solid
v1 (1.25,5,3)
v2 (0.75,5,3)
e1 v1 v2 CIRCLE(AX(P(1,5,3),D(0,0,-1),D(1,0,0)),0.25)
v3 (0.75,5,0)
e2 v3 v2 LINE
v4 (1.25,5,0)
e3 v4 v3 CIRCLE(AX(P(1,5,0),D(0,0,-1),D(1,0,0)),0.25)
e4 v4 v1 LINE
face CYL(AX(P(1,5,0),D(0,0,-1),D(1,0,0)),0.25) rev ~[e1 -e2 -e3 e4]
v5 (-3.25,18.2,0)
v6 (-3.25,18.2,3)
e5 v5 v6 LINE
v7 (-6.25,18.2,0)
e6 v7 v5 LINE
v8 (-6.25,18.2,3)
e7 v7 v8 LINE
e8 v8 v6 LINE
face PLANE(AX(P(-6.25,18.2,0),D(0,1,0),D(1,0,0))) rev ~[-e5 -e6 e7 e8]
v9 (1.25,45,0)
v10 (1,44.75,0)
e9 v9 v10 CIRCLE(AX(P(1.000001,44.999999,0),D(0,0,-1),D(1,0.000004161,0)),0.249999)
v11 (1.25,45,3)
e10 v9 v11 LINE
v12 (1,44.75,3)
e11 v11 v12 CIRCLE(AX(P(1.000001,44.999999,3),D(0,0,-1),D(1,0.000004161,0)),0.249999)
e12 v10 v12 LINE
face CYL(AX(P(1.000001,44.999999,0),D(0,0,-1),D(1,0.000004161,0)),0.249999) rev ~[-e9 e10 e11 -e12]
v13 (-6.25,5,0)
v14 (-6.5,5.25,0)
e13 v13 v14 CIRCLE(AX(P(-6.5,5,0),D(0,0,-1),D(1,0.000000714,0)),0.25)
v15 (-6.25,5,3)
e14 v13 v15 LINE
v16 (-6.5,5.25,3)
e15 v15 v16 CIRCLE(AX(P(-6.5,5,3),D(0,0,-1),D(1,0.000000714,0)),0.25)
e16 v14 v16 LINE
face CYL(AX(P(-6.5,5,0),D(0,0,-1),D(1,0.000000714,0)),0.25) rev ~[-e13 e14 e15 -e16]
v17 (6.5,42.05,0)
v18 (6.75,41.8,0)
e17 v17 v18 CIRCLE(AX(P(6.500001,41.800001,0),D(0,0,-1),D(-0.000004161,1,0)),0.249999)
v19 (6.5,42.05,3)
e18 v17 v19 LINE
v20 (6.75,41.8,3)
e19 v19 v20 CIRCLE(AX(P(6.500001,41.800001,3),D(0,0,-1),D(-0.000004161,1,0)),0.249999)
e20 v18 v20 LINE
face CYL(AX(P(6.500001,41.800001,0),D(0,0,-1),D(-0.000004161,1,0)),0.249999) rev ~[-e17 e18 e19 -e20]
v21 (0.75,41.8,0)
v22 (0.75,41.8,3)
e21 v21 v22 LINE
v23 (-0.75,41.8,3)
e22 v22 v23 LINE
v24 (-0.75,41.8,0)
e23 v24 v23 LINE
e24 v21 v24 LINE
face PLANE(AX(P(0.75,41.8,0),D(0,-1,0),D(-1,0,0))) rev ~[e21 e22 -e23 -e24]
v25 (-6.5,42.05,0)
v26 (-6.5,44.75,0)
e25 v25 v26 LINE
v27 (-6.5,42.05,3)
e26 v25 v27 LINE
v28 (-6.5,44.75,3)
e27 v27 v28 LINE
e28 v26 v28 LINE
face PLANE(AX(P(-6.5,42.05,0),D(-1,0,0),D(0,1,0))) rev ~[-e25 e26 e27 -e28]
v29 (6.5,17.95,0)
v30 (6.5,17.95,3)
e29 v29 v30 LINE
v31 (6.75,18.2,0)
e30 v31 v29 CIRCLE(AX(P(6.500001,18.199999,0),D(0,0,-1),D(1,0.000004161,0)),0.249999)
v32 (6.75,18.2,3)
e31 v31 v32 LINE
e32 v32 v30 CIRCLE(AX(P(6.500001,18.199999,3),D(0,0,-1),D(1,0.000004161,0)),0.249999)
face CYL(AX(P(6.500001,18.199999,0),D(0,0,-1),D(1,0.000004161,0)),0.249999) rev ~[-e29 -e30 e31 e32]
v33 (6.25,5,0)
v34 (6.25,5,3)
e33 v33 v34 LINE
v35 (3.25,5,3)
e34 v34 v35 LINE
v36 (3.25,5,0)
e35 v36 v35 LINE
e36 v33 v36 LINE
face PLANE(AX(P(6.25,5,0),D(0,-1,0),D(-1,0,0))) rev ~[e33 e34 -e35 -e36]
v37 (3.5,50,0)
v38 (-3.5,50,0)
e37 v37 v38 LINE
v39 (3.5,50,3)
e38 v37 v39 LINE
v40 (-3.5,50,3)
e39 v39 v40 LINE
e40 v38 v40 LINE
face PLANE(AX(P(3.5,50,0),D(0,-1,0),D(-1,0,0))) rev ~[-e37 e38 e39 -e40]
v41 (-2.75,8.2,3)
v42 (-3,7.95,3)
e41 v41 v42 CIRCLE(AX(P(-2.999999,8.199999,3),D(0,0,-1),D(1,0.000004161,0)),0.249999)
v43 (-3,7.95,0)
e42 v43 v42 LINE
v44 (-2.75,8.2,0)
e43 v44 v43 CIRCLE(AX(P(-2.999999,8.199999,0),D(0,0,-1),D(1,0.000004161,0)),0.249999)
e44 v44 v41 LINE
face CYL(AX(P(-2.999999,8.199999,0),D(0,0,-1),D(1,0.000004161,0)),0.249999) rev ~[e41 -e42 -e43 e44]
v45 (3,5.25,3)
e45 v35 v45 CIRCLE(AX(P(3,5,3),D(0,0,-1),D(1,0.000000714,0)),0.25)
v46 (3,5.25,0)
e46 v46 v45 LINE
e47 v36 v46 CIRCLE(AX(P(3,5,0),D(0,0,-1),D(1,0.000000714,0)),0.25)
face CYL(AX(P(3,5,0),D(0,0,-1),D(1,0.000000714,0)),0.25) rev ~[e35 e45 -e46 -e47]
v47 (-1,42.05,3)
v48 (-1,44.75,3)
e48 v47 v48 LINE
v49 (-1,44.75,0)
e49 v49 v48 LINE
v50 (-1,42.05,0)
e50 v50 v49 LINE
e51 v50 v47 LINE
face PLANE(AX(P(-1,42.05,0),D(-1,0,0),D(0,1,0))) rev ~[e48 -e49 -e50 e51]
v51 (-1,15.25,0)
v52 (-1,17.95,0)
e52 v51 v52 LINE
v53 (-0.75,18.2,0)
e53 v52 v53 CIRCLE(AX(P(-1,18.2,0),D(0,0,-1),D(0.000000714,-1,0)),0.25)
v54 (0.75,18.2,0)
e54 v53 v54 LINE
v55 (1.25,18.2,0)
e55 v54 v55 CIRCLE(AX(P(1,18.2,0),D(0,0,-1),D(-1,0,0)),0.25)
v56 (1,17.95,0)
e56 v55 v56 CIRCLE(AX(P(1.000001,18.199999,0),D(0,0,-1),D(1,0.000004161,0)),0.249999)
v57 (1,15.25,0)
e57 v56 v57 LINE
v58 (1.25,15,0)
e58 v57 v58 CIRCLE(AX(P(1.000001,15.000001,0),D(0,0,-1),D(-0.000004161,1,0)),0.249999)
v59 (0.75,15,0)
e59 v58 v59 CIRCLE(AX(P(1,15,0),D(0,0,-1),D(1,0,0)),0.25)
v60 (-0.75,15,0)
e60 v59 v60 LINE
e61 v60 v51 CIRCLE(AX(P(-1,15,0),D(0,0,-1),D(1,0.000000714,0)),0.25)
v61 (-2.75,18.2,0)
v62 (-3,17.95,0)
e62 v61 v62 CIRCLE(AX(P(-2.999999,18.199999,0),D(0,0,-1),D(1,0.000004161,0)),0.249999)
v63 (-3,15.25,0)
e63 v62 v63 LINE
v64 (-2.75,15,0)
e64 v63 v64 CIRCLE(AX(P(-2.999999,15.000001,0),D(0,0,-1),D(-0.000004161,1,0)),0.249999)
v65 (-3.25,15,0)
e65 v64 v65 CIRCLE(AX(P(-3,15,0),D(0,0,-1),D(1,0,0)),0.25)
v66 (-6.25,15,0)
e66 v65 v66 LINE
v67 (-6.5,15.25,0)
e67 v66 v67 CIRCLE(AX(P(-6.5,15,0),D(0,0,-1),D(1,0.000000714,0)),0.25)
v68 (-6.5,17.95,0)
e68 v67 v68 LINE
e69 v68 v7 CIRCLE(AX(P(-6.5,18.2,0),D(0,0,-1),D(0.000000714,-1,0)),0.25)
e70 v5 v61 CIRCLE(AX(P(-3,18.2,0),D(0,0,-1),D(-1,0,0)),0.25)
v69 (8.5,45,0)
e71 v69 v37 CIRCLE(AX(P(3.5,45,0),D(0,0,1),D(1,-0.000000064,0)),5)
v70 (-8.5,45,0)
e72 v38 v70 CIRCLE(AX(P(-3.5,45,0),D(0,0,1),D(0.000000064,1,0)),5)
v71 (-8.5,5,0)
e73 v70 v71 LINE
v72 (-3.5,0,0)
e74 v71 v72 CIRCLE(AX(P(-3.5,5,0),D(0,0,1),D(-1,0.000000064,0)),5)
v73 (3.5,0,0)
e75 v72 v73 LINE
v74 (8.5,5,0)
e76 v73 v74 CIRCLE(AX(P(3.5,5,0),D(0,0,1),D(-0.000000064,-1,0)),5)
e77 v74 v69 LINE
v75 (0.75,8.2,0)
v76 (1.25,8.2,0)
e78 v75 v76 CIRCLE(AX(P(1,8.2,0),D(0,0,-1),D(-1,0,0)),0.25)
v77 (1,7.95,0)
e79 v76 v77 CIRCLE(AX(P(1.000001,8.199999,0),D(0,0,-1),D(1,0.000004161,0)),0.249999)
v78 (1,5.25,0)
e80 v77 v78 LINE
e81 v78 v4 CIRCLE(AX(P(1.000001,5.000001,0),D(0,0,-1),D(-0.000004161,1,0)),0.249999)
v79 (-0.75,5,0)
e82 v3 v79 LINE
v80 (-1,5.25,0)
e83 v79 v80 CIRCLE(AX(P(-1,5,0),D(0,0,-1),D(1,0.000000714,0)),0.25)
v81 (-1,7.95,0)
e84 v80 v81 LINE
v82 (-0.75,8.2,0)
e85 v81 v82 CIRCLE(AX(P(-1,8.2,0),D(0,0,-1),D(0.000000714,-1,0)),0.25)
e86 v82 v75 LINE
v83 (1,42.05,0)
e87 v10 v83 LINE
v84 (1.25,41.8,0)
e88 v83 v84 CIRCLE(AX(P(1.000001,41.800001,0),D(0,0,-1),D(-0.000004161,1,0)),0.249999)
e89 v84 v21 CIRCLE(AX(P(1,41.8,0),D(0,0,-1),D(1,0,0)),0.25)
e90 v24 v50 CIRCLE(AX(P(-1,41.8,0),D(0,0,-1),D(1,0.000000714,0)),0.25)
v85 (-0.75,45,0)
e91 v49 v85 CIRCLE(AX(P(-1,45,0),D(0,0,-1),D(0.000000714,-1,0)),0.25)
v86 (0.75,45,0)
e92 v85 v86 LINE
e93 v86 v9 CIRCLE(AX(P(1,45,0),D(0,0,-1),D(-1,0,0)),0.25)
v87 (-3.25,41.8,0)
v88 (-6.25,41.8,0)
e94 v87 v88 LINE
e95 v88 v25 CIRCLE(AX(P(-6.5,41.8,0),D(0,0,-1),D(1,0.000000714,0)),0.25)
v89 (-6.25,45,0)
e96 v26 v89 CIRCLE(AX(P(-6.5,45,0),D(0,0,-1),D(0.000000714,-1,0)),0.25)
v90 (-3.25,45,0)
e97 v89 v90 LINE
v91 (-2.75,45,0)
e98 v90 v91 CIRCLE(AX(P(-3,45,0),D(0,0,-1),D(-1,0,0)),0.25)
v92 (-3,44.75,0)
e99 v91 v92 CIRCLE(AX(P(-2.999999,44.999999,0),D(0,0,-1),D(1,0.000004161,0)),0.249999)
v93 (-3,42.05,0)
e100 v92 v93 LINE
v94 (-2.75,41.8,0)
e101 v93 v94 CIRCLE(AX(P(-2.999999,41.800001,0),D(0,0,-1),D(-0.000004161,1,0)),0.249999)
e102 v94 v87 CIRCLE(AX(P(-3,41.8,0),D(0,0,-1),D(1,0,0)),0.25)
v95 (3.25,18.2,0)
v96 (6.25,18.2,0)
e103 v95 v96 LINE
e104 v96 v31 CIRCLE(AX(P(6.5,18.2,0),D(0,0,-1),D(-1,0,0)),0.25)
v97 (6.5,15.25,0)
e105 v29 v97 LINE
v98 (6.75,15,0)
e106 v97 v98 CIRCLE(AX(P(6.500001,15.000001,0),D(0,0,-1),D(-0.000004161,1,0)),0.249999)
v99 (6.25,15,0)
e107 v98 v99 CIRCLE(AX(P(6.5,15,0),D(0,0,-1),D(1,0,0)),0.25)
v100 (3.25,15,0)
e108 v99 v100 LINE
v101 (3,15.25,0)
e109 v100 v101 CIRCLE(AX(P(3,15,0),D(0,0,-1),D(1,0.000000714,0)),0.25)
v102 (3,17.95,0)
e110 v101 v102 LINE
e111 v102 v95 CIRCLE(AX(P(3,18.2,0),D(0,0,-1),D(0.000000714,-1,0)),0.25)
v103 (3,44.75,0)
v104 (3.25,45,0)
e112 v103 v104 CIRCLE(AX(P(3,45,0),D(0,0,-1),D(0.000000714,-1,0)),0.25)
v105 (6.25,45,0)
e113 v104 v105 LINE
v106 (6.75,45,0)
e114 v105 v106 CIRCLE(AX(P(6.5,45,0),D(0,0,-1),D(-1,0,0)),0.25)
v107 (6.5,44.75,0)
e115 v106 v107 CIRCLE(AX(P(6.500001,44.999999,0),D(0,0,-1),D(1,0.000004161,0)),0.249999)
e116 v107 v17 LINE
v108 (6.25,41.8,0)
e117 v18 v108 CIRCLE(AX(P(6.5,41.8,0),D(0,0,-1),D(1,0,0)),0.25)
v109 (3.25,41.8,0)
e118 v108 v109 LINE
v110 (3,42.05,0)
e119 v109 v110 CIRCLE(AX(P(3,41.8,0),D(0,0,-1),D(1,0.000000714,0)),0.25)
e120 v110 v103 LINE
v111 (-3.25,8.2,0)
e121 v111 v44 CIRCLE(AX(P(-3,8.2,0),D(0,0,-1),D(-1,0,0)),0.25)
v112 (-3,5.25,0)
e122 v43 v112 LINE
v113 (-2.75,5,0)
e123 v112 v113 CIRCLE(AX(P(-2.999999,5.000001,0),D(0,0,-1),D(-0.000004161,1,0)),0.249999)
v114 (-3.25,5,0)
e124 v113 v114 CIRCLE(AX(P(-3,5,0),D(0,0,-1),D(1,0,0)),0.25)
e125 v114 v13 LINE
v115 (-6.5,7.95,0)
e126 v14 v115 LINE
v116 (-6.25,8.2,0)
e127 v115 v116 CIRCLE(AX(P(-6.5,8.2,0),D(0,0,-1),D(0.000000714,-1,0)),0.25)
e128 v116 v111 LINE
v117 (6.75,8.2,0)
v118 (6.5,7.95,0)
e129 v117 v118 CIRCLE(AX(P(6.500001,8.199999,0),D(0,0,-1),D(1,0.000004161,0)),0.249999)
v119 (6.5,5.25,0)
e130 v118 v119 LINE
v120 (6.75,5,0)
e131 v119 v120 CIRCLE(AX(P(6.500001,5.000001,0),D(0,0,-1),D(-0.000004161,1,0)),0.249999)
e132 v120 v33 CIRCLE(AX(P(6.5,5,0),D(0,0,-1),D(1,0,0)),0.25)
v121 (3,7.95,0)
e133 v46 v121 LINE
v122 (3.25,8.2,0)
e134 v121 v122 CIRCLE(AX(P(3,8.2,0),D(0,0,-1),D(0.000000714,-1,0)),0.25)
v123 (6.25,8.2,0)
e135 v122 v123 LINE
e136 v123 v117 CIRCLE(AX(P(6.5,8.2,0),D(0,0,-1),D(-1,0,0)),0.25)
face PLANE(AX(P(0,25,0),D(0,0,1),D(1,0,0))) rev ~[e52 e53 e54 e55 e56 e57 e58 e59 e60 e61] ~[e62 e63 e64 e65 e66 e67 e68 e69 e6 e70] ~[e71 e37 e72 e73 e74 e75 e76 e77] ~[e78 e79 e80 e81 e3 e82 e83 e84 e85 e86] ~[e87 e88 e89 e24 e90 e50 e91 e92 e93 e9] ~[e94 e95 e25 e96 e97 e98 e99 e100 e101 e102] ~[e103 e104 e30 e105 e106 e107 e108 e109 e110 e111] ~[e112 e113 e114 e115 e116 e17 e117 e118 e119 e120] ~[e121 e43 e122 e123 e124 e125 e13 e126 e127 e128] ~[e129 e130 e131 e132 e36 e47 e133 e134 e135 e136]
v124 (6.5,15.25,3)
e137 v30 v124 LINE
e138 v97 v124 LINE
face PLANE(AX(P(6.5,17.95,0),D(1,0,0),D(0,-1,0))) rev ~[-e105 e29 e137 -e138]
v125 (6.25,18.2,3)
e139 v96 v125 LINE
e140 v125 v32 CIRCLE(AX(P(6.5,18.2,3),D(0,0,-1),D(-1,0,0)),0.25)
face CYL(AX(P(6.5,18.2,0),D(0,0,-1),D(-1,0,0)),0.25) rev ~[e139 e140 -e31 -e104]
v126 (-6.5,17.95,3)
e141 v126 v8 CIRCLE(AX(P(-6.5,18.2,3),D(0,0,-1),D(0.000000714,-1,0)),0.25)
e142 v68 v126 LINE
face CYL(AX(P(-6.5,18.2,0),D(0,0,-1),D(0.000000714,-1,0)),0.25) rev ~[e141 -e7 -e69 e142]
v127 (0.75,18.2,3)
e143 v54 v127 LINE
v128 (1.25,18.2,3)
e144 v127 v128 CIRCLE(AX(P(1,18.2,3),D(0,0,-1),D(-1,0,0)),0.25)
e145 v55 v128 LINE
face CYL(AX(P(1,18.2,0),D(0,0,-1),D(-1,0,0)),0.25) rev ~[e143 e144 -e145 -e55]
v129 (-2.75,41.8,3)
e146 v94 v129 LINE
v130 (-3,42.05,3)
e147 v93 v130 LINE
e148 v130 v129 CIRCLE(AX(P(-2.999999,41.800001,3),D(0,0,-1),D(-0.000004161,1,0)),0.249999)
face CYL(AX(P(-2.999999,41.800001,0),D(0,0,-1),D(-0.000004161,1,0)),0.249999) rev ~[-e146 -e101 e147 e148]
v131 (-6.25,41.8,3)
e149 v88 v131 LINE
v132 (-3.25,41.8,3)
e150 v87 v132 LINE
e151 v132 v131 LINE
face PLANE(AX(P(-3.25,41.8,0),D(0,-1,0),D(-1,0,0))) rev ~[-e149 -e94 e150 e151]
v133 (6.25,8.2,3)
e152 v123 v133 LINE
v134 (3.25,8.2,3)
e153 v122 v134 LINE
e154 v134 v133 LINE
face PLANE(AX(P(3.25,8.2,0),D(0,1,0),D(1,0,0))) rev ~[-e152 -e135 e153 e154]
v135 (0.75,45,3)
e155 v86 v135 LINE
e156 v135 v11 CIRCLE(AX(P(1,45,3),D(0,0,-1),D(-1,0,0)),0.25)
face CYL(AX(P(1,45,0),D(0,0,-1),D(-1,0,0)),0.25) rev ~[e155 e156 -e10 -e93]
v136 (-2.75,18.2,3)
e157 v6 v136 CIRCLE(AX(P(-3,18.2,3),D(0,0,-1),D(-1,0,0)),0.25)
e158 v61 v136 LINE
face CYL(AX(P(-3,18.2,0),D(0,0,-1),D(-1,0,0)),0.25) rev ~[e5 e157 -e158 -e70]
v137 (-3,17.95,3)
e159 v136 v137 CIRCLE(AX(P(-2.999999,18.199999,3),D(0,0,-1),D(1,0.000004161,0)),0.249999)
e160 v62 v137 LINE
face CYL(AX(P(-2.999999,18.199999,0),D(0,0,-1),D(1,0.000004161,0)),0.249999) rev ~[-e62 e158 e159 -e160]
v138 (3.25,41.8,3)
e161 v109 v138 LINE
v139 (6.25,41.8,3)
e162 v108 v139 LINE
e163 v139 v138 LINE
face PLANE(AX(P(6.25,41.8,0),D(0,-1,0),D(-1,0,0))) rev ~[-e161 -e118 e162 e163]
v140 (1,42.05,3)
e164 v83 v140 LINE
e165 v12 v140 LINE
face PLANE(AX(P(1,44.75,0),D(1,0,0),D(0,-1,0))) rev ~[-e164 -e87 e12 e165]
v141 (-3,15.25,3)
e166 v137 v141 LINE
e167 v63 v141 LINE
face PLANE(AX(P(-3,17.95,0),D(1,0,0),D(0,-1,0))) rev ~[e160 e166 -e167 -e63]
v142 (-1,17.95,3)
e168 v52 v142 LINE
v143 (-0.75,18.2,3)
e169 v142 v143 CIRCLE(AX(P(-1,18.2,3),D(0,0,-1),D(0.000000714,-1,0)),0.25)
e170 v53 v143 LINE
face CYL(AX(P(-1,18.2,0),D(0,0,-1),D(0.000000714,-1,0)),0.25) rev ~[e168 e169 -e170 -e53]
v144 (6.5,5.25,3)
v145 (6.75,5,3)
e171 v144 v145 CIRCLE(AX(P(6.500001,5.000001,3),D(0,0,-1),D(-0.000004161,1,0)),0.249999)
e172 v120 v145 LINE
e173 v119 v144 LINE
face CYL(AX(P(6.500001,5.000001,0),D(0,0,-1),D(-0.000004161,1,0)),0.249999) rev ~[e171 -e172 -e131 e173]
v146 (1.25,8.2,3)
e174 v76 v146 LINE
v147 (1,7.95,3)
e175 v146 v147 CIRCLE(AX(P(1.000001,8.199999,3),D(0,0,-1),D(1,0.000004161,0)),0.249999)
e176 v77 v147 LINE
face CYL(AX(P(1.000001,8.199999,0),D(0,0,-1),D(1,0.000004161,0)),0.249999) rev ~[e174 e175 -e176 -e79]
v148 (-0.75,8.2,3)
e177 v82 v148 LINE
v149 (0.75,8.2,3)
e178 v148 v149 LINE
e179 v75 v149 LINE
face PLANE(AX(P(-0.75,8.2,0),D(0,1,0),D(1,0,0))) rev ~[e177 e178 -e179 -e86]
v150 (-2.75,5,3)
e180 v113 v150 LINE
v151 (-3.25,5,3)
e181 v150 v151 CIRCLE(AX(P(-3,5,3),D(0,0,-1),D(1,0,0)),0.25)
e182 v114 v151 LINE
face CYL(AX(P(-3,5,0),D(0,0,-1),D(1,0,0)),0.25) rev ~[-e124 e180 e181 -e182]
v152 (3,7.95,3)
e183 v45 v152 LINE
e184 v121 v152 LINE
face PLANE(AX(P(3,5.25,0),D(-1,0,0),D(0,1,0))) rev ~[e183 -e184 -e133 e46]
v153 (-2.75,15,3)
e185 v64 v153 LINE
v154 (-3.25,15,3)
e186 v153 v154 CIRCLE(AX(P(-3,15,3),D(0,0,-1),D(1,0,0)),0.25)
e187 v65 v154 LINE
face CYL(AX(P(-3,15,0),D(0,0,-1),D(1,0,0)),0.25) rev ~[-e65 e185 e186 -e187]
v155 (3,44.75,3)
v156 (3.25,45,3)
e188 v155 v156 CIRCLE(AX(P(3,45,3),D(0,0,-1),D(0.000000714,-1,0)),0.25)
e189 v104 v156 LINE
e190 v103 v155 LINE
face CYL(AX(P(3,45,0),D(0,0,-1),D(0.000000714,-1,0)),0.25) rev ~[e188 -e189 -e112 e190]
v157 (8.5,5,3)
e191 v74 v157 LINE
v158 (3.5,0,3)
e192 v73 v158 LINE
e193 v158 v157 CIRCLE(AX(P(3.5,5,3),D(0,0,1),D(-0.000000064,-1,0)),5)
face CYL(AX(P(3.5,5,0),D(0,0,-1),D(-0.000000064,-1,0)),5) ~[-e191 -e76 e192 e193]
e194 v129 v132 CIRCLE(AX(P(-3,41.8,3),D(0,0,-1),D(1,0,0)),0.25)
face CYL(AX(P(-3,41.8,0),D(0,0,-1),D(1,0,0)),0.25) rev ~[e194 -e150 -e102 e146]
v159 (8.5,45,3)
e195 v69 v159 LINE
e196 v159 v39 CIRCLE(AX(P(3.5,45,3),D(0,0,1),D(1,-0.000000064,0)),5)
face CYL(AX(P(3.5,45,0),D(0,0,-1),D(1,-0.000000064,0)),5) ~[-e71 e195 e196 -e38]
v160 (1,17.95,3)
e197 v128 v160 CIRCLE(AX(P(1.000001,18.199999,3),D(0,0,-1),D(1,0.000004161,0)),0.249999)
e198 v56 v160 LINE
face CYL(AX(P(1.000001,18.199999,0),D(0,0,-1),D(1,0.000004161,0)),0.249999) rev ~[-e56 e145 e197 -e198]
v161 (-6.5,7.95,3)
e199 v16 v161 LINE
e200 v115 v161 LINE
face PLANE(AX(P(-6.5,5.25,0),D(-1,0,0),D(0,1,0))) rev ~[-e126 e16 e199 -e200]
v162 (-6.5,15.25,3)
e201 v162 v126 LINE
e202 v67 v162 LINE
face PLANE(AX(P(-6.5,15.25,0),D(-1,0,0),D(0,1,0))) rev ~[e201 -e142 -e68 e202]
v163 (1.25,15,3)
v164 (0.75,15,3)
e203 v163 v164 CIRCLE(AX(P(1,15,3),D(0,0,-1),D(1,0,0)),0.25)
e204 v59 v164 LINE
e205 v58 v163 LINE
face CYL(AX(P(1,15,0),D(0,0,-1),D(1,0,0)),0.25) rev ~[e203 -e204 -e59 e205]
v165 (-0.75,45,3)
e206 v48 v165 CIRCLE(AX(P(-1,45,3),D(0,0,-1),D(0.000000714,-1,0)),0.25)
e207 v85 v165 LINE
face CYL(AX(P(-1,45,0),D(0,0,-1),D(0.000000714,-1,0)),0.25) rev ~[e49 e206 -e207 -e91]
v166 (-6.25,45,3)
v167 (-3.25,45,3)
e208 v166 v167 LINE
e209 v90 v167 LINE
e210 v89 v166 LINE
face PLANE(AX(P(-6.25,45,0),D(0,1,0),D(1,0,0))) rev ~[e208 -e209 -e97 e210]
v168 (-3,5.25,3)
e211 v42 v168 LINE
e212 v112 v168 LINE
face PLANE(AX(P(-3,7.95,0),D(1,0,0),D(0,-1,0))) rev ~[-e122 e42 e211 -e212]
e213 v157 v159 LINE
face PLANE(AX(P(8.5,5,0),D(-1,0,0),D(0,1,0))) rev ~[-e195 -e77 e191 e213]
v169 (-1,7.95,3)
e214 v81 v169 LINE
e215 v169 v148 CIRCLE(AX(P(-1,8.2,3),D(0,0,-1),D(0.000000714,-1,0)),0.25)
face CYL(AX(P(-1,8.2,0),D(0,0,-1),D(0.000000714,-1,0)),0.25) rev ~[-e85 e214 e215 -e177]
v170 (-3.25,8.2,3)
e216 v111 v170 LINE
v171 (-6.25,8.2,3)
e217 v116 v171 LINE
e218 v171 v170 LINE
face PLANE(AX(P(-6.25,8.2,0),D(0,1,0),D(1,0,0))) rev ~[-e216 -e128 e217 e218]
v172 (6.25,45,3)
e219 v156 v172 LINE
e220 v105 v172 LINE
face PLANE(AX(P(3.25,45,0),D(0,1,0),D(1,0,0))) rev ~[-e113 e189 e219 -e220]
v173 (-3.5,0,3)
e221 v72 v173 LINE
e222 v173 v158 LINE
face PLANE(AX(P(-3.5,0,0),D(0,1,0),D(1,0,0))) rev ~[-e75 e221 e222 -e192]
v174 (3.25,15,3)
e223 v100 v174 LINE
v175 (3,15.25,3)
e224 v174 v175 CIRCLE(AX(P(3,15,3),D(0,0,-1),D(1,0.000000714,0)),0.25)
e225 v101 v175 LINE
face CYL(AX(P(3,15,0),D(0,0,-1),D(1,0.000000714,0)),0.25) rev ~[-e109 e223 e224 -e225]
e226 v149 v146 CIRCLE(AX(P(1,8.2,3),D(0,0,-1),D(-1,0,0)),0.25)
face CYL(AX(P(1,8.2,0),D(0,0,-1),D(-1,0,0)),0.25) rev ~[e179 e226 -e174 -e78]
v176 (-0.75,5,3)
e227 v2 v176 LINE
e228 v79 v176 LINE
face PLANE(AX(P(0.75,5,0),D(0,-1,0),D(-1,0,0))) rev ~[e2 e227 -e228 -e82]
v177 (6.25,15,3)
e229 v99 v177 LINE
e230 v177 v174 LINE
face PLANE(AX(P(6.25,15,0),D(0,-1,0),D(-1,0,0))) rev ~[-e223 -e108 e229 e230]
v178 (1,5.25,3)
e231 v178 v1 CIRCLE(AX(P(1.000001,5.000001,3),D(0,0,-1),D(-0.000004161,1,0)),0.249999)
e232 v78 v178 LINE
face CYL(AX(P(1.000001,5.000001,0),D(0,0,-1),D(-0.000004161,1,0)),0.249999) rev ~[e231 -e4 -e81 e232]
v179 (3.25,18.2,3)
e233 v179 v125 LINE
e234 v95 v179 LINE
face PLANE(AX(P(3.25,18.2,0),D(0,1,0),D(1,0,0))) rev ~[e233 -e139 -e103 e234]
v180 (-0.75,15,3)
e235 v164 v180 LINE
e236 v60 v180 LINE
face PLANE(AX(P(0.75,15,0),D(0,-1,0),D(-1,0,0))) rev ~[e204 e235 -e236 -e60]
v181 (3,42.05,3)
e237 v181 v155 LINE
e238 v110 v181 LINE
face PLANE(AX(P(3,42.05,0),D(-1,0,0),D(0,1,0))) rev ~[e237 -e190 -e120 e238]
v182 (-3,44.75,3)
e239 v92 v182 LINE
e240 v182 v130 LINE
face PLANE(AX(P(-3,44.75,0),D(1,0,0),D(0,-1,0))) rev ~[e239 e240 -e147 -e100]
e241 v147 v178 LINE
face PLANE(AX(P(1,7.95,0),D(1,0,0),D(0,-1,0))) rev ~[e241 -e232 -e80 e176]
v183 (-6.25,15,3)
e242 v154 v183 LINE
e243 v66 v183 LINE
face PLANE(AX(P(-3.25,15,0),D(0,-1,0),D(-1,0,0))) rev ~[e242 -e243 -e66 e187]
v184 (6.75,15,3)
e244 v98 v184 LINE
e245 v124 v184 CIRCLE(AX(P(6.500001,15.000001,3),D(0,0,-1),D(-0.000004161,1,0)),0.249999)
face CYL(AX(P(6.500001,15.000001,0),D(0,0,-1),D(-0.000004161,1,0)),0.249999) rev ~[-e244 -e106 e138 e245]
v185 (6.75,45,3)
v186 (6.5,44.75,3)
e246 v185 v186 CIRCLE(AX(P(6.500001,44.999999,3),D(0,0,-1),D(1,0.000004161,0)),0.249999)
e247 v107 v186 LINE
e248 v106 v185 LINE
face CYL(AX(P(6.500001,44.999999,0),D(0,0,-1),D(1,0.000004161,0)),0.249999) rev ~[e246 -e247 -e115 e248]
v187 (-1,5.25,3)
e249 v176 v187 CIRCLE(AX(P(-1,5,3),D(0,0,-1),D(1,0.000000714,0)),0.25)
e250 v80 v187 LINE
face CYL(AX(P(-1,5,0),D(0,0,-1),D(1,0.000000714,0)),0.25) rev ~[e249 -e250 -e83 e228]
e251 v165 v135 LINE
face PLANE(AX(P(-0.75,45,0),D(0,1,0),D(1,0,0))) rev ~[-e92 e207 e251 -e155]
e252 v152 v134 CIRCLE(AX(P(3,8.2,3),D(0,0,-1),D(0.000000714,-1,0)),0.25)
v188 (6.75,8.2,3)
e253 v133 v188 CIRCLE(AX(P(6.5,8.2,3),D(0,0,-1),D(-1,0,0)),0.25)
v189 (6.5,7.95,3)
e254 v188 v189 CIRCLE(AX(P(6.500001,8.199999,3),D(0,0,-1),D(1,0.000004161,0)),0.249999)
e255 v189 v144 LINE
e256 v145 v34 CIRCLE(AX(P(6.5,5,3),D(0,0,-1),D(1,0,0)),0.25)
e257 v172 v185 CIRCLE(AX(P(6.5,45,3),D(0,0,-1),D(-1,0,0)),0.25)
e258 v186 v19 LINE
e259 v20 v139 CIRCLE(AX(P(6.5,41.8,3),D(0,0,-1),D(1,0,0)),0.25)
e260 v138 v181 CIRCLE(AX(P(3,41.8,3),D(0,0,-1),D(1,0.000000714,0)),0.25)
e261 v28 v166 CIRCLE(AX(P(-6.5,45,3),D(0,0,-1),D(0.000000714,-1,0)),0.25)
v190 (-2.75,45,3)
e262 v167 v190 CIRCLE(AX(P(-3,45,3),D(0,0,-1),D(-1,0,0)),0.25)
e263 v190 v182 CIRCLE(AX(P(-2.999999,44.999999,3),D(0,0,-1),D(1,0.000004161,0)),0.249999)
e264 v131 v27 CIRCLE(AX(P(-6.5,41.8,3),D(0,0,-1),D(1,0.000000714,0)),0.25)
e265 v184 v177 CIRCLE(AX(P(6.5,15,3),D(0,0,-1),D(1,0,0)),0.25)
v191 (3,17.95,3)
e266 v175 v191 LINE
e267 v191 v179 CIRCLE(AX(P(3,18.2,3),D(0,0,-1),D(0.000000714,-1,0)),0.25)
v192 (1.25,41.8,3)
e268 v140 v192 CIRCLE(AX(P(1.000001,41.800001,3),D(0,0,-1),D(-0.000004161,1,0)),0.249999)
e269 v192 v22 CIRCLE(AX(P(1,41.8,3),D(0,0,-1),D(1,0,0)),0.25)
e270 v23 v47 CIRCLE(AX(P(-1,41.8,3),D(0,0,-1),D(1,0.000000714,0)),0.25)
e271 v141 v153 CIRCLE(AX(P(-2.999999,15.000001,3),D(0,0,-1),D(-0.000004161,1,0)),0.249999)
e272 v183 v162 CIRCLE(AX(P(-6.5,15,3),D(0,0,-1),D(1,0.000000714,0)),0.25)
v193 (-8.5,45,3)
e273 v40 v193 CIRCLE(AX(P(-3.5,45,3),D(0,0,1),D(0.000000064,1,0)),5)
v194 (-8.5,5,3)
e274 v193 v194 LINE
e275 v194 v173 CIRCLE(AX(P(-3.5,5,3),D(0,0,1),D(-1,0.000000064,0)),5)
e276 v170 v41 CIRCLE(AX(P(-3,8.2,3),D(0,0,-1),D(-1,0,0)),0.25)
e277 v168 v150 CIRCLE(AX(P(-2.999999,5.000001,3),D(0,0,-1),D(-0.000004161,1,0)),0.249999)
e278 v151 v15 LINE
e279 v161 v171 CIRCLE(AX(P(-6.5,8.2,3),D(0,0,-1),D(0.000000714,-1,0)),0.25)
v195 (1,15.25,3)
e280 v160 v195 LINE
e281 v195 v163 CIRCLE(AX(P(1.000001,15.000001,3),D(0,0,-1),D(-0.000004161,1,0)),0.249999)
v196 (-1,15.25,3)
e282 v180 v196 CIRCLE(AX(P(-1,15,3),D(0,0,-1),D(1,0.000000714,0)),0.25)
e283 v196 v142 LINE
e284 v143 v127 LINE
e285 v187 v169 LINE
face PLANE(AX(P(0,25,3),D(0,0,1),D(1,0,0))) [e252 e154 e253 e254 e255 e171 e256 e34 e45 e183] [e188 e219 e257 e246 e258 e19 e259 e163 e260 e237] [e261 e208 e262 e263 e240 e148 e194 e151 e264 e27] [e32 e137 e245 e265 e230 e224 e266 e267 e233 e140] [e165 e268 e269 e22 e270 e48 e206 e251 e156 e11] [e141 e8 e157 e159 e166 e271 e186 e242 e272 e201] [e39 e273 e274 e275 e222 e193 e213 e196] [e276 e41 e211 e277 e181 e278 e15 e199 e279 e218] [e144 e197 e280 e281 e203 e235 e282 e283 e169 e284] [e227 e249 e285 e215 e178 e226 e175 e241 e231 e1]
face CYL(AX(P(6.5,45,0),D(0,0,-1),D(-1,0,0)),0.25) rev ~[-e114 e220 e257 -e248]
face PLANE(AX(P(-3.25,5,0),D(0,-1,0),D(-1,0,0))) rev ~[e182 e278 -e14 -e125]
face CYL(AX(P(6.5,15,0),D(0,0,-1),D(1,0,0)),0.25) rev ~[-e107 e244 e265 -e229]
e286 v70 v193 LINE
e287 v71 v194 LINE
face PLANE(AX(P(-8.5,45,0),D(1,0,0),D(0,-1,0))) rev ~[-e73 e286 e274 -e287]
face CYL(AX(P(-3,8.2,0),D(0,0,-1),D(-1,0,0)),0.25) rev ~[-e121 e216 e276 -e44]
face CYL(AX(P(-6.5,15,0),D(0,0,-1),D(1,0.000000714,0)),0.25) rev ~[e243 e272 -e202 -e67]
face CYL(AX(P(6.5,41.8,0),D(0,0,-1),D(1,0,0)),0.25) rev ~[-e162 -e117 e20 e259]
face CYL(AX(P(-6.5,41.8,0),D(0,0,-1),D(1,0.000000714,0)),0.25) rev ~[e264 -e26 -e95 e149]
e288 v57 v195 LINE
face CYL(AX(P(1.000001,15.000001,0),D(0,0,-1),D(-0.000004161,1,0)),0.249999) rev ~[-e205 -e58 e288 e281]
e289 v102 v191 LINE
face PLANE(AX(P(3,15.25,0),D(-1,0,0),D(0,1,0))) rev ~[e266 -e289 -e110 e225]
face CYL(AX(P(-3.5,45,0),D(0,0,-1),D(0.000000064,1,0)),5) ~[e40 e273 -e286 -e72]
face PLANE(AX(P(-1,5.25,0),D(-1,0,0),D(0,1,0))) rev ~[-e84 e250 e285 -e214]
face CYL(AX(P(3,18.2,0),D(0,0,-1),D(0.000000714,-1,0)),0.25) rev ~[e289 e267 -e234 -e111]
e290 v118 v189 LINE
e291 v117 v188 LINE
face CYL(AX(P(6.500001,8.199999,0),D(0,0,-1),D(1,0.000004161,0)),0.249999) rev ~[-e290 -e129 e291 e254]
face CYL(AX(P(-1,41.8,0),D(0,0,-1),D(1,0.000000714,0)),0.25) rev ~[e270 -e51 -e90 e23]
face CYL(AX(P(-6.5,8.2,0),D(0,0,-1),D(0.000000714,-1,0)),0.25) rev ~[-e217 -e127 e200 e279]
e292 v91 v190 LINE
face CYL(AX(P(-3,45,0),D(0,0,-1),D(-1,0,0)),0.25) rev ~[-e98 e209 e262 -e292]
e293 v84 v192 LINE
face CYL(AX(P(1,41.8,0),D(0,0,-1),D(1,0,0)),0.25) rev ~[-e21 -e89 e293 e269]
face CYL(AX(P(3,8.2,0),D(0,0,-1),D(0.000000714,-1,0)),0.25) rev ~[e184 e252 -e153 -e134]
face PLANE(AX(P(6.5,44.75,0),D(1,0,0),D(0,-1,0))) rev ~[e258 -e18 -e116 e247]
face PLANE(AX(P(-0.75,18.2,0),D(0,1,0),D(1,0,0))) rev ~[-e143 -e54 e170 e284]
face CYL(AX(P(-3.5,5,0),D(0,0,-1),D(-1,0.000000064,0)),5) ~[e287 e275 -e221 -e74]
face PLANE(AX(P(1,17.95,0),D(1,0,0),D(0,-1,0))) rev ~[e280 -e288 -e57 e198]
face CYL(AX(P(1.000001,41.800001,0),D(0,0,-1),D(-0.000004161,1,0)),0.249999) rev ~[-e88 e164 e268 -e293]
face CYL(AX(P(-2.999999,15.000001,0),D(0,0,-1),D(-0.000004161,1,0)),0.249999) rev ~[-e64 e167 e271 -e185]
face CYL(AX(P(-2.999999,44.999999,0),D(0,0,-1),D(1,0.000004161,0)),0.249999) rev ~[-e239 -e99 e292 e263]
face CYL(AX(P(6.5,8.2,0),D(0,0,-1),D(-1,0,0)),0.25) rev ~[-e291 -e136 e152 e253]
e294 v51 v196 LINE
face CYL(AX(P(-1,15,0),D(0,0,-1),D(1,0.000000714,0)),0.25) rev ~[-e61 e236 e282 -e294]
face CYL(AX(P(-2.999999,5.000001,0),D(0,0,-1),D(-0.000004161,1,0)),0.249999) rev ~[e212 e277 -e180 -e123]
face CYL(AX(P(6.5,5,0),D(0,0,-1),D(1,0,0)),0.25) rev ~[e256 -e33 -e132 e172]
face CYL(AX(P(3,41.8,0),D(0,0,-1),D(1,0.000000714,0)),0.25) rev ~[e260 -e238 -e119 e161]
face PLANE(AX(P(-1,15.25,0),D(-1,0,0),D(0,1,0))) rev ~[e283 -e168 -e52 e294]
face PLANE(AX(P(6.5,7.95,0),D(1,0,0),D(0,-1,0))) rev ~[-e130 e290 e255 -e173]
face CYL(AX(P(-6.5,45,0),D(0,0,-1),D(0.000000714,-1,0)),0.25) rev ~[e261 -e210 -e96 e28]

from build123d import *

# Parameters (mm, degrees)
F1_DEPTH = 3


with BuildPart() as f1:
    # F0 (on Top) → F1 (new body)
    with BuildSketch(Plane.XY):
        with BuildLine():
            Line((3.5, 50), (-3.5, 50))
            ThreePointArc((-3.5, 50), (-7.035534, 48.535534), (-8.5, 45))
            Line((-8.5, 45), (-8.5, 5))
            ThreePointArc((-8.5, 5), (-7.035534, 1.464466), (-3.5, 0))
            Line((-3.5, 0), (3.5, 0))
            ThreePointArc((3.5, 0), (7.035534, 1.464466), (8.5, 5))
            Line((8.5, 5), (8.5, 45))
            ThreePointArc((8.5, 45), (7.035534, 48.535534), (3.5, 50))
        make_face()
        with BuildLine():
            ThreePointArc((-6.5, 7.95), (-6.676777, 8.376777), (-6.25, 8.2))
            Line((-6.25, 8.2), (-3.25, 8.2))
            ThreePointArc((-3.25, 8.2), (-3, 8.45), (-2.75, 8.2))
            ThreePointArc((-2.75, 8.2), (-2.823223, 8.023223), (-3, 7.95))
            Line((-3, 7.95), (-3, 5.25))
            ThreePointArc((-3, 5.25), (-2.823223, 5.176777), (-2.75, 5))
            ThreePointArc((-2.75, 5), (-3, 4.75), (-3.25, 5))
            Line((-3.25, 5), (-6.25, 5))
            ThreePointArc((-6.25, 5), (-6.676777, 4.823223), (-6.5, 5.25))
            Line((-6.5, 5.25), (-6.5, 7.95))
        make_face(mode=Mode.SUBTRACT)
        with BuildLine():
            ThreePointArc((-2.75, 18.2), (-2.823223, 18.023223), (-3, 17.95))
            Line((-3, 17.95), (-3, 15.25))
            ThreePointArc((-3, 15.25), (-2.823223, 15.176777), (-2.75, 15))
            ThreePointArc((-2.75, 15), (-3, 14.75), (-3.25, 15))
            Line((-3.25, 15), (-6.25, 15))
            ThreePointArc((-6.25, 15), (-6.676777, 14.823223), (-6.5, 15.25))
            Line((-6.5, 15.25), (-6.5, 17.95))
            ThreePointArc((-6.5, 17.95), (-6.676777, 18.376777), (-6.25, 18.2))
            Line((-6.25, 18.2), (-3.25, 18.2))
            ThreePointArc((-3.25, 18.2), (-3, 18.45), (-2.75, 18.2))
        make_face(mode=Mode.SUBTRACT)
        with BuildLine():
            ThreePointArc((-1, 7.95), (-1.176777, 8.376777), (-0.75, 8.2))
            Line((-0.75, 8.2), (0.75, 8.2))
            ThreePointArc((0.75, 8.2), (1, 8.45), (1.25, 8.2))
            ThreePointArc((1.25, 8.2), (1.176777, 8.023223), (1, 7.95))
            Line((1, 7.95), (1, 5.25))
            ThreePointArc((1, 5.25), (1.176777, 5.176777), (1.25, 5))
            ThreePointArc((1.25, 5), (1, 4.75), (0.75, 5))
            Line((0.75, 5), (-0.75, 5))
            ThreePointArc((-0.75, 5), (-1.176777, 4.823223), (-1, 5.25))
            Line((-1, 5.25), (-1, 7.95))
        make_face(mode=Mode.SUBTRACT)
        with BuildLine():
            ThreePointArc((3, 7.95), (2.823223, 8.376777), (3.25, 8.2))
            Line((3.25, 8.2), (6.25, 8.2))
            ThreePointArc((6.25, 8.2), (6.5, 8.45), (6.75, 8.2))
            ThreePointArc((6.75, 8.2), (6.676777, 8.023223), (6.5, 7.95))
            Line((6.5, 7.95), (6.5, 5.25))
            ThreePointArc((6.5, 5.25), (6.676777, 5.176777), (6.75, 5))
            ThreePointArc((6.75, 5), (6.5, 4.75), (6.25, 5))
            Line((6.25, 5), (3.25, 5))
            ThreePointArc((3.25, 5), (2.823223, 4.823223), (3, 5.25))
            Line((3, 5.25), (3, 7.95))
        make_face(mode=Mode.SUBTRACT)
        with BuildLine():
            ThreePointArc((1.25, 18.2), (1.176777, 18.023223), (1, 17.95))
            Line((1, 17.95), (1, 15.25))
            ThreePointArc((1, 15.25), (1.176777, 15.176777), (1.25, 15))
            ThreePointArc((1.25, 15), (1, 14.75), (0.75, 15))
            Line((0.75, 15), (-0.75, 15))
            ThreePointArc((-0.75, 15), (-1.176777, 14.823223), (-1, 15.25))
            Line((-1, 15.25), (-1, 17.95))
            ThreePointArc((-1, 17.95), (-1.176777, 18.376777), (-0.75, 18.2))
            Line((-0.75, 18.2), (0.75, 18.2))
            ThreePointArc((0.75, 18.2), (1, 18.45), (1.25, 18.2))
        make_face(mode=Mode.SUBTRACT)
        with BuildLine():
            ThreePointArc((3, 17.95), (2.823223, 18.376777), (3.25, 18.2))
            Line((3.25, 18.2), (6.25, 18.2))
            ThreePointArc((6.25, 18.2), (6.5, 18.45), (6.75, 18.2))
            ThreePointArc((6.75, 18.2), (6.676777, 18.023223), (6.5, 17.95))
            Line((6.5, 17.95), (6.5, 15.25))
            ThreePointArc((6.5, 15.25), (6.676777, 15.176777), (6.75, 15))
            ThreePointArc((6.75, 15), (6.5, 14.75), (6.25, 15))
            Line((6.25, 15), (3.25, 15))
            ThreePointArc((3.25, 15), (2.823223, 14.823223), (3, 15.25))
            Line((3, 15.25), (3, 17.95))
        make_face(mode=Mode.SUBTRACT)
        with BuildLine():
            ThreePointArc((-3.25, 45), (-3, 45.25), (-2.75, 45))
            ThreePointArc((-2.75, 45), (-2.823223, 44.823223), (-3, 44.75))
            Line((-3, 44.75), (-3, 42.05))
            ThreePointArc((-3, 42.05), (-2.823223, 41.976777), (-2.75, 41.8))
            ThreePointArc((-2.75, 41.8), (-3, 41.55), (-3.25, 41.8))
            Line((-3.25, 41.8), (-6.25, 41.8))
            ThreePointArc((-6.25, 41.8), (-6.676777, 41.623223), (-6.5, 42.05))
            Line((-6.5, 42.05), (-6.5, 44.75))
            ThreePointArc((-6.5, 44.75), (-6.676777, 45.176777), (-6.25, 45))
            Line((-6.25, 45), (-3.25, 45))
        make_face(mode=Mode.SUBTRACT)
        with BuildLine():
            ThreePointArc((-1, 44.75), (-1.176777, 45.176777), (-0.75, 45))
            Line((-0.75, 45), (0.75, 45))
            ThreePointArc((0.75, 45), (1, 45.25), (1.25, 45))
            ThreePointArc((1.25, 45), (1.176777, 44.823223), (1, 44.75))
            Line((1, 44.75), (1, 42.05))
            ThreePointArc((1, 42.05), (1.176777, 41.976777), (1.25, 41.8))
            ThreePointArc((1.25, 41.8), (1, 41.55), (0.75, 41.8))
            Line((0.75, 41.8), (-0.75, 41.8))
            ThreePointArc((-0.75, 41.8), (-1.176777, 41.623223), (-1, 42.05))
            Line((-1, 42.05), (-1, 44.75))
        make_face(mode=Mode.SUBTRACT)
        with BuildLine():
            ThreePointArc((6.25, 45), (6.5, 45.25), (6.75, 45))
            ThreePointArc((6.75, 45), (6.676777, 44.823223), (6.5, 44.75))
            Line((6.5, 44.75), (6.5, 42.05))
            ThreePointArc((6.5, 42.05), (6.676777, 41.976777), (6.75, 41.8))
            ThreePointArc((6.75, 41.8), (6.5, 41.55), (6.25, 41.8))
            Line((6.25, 41.8), (3.25, 41.8))
            ThreePointArc((3.25, 41.8), (2.823223, 41.623223), (3, 42.05))
            Line((3, 42.05), (3, 44.75))
            ThreePointArc((3, 44.75), (2.823223, 45.176777), (3.25, 45))
            Line((3.25, 45), (6.25, 45))
        make_face(mode=Mode.SUBTRACT)
    extrude(amount=F1_DEPTH)


solid = f1.part
